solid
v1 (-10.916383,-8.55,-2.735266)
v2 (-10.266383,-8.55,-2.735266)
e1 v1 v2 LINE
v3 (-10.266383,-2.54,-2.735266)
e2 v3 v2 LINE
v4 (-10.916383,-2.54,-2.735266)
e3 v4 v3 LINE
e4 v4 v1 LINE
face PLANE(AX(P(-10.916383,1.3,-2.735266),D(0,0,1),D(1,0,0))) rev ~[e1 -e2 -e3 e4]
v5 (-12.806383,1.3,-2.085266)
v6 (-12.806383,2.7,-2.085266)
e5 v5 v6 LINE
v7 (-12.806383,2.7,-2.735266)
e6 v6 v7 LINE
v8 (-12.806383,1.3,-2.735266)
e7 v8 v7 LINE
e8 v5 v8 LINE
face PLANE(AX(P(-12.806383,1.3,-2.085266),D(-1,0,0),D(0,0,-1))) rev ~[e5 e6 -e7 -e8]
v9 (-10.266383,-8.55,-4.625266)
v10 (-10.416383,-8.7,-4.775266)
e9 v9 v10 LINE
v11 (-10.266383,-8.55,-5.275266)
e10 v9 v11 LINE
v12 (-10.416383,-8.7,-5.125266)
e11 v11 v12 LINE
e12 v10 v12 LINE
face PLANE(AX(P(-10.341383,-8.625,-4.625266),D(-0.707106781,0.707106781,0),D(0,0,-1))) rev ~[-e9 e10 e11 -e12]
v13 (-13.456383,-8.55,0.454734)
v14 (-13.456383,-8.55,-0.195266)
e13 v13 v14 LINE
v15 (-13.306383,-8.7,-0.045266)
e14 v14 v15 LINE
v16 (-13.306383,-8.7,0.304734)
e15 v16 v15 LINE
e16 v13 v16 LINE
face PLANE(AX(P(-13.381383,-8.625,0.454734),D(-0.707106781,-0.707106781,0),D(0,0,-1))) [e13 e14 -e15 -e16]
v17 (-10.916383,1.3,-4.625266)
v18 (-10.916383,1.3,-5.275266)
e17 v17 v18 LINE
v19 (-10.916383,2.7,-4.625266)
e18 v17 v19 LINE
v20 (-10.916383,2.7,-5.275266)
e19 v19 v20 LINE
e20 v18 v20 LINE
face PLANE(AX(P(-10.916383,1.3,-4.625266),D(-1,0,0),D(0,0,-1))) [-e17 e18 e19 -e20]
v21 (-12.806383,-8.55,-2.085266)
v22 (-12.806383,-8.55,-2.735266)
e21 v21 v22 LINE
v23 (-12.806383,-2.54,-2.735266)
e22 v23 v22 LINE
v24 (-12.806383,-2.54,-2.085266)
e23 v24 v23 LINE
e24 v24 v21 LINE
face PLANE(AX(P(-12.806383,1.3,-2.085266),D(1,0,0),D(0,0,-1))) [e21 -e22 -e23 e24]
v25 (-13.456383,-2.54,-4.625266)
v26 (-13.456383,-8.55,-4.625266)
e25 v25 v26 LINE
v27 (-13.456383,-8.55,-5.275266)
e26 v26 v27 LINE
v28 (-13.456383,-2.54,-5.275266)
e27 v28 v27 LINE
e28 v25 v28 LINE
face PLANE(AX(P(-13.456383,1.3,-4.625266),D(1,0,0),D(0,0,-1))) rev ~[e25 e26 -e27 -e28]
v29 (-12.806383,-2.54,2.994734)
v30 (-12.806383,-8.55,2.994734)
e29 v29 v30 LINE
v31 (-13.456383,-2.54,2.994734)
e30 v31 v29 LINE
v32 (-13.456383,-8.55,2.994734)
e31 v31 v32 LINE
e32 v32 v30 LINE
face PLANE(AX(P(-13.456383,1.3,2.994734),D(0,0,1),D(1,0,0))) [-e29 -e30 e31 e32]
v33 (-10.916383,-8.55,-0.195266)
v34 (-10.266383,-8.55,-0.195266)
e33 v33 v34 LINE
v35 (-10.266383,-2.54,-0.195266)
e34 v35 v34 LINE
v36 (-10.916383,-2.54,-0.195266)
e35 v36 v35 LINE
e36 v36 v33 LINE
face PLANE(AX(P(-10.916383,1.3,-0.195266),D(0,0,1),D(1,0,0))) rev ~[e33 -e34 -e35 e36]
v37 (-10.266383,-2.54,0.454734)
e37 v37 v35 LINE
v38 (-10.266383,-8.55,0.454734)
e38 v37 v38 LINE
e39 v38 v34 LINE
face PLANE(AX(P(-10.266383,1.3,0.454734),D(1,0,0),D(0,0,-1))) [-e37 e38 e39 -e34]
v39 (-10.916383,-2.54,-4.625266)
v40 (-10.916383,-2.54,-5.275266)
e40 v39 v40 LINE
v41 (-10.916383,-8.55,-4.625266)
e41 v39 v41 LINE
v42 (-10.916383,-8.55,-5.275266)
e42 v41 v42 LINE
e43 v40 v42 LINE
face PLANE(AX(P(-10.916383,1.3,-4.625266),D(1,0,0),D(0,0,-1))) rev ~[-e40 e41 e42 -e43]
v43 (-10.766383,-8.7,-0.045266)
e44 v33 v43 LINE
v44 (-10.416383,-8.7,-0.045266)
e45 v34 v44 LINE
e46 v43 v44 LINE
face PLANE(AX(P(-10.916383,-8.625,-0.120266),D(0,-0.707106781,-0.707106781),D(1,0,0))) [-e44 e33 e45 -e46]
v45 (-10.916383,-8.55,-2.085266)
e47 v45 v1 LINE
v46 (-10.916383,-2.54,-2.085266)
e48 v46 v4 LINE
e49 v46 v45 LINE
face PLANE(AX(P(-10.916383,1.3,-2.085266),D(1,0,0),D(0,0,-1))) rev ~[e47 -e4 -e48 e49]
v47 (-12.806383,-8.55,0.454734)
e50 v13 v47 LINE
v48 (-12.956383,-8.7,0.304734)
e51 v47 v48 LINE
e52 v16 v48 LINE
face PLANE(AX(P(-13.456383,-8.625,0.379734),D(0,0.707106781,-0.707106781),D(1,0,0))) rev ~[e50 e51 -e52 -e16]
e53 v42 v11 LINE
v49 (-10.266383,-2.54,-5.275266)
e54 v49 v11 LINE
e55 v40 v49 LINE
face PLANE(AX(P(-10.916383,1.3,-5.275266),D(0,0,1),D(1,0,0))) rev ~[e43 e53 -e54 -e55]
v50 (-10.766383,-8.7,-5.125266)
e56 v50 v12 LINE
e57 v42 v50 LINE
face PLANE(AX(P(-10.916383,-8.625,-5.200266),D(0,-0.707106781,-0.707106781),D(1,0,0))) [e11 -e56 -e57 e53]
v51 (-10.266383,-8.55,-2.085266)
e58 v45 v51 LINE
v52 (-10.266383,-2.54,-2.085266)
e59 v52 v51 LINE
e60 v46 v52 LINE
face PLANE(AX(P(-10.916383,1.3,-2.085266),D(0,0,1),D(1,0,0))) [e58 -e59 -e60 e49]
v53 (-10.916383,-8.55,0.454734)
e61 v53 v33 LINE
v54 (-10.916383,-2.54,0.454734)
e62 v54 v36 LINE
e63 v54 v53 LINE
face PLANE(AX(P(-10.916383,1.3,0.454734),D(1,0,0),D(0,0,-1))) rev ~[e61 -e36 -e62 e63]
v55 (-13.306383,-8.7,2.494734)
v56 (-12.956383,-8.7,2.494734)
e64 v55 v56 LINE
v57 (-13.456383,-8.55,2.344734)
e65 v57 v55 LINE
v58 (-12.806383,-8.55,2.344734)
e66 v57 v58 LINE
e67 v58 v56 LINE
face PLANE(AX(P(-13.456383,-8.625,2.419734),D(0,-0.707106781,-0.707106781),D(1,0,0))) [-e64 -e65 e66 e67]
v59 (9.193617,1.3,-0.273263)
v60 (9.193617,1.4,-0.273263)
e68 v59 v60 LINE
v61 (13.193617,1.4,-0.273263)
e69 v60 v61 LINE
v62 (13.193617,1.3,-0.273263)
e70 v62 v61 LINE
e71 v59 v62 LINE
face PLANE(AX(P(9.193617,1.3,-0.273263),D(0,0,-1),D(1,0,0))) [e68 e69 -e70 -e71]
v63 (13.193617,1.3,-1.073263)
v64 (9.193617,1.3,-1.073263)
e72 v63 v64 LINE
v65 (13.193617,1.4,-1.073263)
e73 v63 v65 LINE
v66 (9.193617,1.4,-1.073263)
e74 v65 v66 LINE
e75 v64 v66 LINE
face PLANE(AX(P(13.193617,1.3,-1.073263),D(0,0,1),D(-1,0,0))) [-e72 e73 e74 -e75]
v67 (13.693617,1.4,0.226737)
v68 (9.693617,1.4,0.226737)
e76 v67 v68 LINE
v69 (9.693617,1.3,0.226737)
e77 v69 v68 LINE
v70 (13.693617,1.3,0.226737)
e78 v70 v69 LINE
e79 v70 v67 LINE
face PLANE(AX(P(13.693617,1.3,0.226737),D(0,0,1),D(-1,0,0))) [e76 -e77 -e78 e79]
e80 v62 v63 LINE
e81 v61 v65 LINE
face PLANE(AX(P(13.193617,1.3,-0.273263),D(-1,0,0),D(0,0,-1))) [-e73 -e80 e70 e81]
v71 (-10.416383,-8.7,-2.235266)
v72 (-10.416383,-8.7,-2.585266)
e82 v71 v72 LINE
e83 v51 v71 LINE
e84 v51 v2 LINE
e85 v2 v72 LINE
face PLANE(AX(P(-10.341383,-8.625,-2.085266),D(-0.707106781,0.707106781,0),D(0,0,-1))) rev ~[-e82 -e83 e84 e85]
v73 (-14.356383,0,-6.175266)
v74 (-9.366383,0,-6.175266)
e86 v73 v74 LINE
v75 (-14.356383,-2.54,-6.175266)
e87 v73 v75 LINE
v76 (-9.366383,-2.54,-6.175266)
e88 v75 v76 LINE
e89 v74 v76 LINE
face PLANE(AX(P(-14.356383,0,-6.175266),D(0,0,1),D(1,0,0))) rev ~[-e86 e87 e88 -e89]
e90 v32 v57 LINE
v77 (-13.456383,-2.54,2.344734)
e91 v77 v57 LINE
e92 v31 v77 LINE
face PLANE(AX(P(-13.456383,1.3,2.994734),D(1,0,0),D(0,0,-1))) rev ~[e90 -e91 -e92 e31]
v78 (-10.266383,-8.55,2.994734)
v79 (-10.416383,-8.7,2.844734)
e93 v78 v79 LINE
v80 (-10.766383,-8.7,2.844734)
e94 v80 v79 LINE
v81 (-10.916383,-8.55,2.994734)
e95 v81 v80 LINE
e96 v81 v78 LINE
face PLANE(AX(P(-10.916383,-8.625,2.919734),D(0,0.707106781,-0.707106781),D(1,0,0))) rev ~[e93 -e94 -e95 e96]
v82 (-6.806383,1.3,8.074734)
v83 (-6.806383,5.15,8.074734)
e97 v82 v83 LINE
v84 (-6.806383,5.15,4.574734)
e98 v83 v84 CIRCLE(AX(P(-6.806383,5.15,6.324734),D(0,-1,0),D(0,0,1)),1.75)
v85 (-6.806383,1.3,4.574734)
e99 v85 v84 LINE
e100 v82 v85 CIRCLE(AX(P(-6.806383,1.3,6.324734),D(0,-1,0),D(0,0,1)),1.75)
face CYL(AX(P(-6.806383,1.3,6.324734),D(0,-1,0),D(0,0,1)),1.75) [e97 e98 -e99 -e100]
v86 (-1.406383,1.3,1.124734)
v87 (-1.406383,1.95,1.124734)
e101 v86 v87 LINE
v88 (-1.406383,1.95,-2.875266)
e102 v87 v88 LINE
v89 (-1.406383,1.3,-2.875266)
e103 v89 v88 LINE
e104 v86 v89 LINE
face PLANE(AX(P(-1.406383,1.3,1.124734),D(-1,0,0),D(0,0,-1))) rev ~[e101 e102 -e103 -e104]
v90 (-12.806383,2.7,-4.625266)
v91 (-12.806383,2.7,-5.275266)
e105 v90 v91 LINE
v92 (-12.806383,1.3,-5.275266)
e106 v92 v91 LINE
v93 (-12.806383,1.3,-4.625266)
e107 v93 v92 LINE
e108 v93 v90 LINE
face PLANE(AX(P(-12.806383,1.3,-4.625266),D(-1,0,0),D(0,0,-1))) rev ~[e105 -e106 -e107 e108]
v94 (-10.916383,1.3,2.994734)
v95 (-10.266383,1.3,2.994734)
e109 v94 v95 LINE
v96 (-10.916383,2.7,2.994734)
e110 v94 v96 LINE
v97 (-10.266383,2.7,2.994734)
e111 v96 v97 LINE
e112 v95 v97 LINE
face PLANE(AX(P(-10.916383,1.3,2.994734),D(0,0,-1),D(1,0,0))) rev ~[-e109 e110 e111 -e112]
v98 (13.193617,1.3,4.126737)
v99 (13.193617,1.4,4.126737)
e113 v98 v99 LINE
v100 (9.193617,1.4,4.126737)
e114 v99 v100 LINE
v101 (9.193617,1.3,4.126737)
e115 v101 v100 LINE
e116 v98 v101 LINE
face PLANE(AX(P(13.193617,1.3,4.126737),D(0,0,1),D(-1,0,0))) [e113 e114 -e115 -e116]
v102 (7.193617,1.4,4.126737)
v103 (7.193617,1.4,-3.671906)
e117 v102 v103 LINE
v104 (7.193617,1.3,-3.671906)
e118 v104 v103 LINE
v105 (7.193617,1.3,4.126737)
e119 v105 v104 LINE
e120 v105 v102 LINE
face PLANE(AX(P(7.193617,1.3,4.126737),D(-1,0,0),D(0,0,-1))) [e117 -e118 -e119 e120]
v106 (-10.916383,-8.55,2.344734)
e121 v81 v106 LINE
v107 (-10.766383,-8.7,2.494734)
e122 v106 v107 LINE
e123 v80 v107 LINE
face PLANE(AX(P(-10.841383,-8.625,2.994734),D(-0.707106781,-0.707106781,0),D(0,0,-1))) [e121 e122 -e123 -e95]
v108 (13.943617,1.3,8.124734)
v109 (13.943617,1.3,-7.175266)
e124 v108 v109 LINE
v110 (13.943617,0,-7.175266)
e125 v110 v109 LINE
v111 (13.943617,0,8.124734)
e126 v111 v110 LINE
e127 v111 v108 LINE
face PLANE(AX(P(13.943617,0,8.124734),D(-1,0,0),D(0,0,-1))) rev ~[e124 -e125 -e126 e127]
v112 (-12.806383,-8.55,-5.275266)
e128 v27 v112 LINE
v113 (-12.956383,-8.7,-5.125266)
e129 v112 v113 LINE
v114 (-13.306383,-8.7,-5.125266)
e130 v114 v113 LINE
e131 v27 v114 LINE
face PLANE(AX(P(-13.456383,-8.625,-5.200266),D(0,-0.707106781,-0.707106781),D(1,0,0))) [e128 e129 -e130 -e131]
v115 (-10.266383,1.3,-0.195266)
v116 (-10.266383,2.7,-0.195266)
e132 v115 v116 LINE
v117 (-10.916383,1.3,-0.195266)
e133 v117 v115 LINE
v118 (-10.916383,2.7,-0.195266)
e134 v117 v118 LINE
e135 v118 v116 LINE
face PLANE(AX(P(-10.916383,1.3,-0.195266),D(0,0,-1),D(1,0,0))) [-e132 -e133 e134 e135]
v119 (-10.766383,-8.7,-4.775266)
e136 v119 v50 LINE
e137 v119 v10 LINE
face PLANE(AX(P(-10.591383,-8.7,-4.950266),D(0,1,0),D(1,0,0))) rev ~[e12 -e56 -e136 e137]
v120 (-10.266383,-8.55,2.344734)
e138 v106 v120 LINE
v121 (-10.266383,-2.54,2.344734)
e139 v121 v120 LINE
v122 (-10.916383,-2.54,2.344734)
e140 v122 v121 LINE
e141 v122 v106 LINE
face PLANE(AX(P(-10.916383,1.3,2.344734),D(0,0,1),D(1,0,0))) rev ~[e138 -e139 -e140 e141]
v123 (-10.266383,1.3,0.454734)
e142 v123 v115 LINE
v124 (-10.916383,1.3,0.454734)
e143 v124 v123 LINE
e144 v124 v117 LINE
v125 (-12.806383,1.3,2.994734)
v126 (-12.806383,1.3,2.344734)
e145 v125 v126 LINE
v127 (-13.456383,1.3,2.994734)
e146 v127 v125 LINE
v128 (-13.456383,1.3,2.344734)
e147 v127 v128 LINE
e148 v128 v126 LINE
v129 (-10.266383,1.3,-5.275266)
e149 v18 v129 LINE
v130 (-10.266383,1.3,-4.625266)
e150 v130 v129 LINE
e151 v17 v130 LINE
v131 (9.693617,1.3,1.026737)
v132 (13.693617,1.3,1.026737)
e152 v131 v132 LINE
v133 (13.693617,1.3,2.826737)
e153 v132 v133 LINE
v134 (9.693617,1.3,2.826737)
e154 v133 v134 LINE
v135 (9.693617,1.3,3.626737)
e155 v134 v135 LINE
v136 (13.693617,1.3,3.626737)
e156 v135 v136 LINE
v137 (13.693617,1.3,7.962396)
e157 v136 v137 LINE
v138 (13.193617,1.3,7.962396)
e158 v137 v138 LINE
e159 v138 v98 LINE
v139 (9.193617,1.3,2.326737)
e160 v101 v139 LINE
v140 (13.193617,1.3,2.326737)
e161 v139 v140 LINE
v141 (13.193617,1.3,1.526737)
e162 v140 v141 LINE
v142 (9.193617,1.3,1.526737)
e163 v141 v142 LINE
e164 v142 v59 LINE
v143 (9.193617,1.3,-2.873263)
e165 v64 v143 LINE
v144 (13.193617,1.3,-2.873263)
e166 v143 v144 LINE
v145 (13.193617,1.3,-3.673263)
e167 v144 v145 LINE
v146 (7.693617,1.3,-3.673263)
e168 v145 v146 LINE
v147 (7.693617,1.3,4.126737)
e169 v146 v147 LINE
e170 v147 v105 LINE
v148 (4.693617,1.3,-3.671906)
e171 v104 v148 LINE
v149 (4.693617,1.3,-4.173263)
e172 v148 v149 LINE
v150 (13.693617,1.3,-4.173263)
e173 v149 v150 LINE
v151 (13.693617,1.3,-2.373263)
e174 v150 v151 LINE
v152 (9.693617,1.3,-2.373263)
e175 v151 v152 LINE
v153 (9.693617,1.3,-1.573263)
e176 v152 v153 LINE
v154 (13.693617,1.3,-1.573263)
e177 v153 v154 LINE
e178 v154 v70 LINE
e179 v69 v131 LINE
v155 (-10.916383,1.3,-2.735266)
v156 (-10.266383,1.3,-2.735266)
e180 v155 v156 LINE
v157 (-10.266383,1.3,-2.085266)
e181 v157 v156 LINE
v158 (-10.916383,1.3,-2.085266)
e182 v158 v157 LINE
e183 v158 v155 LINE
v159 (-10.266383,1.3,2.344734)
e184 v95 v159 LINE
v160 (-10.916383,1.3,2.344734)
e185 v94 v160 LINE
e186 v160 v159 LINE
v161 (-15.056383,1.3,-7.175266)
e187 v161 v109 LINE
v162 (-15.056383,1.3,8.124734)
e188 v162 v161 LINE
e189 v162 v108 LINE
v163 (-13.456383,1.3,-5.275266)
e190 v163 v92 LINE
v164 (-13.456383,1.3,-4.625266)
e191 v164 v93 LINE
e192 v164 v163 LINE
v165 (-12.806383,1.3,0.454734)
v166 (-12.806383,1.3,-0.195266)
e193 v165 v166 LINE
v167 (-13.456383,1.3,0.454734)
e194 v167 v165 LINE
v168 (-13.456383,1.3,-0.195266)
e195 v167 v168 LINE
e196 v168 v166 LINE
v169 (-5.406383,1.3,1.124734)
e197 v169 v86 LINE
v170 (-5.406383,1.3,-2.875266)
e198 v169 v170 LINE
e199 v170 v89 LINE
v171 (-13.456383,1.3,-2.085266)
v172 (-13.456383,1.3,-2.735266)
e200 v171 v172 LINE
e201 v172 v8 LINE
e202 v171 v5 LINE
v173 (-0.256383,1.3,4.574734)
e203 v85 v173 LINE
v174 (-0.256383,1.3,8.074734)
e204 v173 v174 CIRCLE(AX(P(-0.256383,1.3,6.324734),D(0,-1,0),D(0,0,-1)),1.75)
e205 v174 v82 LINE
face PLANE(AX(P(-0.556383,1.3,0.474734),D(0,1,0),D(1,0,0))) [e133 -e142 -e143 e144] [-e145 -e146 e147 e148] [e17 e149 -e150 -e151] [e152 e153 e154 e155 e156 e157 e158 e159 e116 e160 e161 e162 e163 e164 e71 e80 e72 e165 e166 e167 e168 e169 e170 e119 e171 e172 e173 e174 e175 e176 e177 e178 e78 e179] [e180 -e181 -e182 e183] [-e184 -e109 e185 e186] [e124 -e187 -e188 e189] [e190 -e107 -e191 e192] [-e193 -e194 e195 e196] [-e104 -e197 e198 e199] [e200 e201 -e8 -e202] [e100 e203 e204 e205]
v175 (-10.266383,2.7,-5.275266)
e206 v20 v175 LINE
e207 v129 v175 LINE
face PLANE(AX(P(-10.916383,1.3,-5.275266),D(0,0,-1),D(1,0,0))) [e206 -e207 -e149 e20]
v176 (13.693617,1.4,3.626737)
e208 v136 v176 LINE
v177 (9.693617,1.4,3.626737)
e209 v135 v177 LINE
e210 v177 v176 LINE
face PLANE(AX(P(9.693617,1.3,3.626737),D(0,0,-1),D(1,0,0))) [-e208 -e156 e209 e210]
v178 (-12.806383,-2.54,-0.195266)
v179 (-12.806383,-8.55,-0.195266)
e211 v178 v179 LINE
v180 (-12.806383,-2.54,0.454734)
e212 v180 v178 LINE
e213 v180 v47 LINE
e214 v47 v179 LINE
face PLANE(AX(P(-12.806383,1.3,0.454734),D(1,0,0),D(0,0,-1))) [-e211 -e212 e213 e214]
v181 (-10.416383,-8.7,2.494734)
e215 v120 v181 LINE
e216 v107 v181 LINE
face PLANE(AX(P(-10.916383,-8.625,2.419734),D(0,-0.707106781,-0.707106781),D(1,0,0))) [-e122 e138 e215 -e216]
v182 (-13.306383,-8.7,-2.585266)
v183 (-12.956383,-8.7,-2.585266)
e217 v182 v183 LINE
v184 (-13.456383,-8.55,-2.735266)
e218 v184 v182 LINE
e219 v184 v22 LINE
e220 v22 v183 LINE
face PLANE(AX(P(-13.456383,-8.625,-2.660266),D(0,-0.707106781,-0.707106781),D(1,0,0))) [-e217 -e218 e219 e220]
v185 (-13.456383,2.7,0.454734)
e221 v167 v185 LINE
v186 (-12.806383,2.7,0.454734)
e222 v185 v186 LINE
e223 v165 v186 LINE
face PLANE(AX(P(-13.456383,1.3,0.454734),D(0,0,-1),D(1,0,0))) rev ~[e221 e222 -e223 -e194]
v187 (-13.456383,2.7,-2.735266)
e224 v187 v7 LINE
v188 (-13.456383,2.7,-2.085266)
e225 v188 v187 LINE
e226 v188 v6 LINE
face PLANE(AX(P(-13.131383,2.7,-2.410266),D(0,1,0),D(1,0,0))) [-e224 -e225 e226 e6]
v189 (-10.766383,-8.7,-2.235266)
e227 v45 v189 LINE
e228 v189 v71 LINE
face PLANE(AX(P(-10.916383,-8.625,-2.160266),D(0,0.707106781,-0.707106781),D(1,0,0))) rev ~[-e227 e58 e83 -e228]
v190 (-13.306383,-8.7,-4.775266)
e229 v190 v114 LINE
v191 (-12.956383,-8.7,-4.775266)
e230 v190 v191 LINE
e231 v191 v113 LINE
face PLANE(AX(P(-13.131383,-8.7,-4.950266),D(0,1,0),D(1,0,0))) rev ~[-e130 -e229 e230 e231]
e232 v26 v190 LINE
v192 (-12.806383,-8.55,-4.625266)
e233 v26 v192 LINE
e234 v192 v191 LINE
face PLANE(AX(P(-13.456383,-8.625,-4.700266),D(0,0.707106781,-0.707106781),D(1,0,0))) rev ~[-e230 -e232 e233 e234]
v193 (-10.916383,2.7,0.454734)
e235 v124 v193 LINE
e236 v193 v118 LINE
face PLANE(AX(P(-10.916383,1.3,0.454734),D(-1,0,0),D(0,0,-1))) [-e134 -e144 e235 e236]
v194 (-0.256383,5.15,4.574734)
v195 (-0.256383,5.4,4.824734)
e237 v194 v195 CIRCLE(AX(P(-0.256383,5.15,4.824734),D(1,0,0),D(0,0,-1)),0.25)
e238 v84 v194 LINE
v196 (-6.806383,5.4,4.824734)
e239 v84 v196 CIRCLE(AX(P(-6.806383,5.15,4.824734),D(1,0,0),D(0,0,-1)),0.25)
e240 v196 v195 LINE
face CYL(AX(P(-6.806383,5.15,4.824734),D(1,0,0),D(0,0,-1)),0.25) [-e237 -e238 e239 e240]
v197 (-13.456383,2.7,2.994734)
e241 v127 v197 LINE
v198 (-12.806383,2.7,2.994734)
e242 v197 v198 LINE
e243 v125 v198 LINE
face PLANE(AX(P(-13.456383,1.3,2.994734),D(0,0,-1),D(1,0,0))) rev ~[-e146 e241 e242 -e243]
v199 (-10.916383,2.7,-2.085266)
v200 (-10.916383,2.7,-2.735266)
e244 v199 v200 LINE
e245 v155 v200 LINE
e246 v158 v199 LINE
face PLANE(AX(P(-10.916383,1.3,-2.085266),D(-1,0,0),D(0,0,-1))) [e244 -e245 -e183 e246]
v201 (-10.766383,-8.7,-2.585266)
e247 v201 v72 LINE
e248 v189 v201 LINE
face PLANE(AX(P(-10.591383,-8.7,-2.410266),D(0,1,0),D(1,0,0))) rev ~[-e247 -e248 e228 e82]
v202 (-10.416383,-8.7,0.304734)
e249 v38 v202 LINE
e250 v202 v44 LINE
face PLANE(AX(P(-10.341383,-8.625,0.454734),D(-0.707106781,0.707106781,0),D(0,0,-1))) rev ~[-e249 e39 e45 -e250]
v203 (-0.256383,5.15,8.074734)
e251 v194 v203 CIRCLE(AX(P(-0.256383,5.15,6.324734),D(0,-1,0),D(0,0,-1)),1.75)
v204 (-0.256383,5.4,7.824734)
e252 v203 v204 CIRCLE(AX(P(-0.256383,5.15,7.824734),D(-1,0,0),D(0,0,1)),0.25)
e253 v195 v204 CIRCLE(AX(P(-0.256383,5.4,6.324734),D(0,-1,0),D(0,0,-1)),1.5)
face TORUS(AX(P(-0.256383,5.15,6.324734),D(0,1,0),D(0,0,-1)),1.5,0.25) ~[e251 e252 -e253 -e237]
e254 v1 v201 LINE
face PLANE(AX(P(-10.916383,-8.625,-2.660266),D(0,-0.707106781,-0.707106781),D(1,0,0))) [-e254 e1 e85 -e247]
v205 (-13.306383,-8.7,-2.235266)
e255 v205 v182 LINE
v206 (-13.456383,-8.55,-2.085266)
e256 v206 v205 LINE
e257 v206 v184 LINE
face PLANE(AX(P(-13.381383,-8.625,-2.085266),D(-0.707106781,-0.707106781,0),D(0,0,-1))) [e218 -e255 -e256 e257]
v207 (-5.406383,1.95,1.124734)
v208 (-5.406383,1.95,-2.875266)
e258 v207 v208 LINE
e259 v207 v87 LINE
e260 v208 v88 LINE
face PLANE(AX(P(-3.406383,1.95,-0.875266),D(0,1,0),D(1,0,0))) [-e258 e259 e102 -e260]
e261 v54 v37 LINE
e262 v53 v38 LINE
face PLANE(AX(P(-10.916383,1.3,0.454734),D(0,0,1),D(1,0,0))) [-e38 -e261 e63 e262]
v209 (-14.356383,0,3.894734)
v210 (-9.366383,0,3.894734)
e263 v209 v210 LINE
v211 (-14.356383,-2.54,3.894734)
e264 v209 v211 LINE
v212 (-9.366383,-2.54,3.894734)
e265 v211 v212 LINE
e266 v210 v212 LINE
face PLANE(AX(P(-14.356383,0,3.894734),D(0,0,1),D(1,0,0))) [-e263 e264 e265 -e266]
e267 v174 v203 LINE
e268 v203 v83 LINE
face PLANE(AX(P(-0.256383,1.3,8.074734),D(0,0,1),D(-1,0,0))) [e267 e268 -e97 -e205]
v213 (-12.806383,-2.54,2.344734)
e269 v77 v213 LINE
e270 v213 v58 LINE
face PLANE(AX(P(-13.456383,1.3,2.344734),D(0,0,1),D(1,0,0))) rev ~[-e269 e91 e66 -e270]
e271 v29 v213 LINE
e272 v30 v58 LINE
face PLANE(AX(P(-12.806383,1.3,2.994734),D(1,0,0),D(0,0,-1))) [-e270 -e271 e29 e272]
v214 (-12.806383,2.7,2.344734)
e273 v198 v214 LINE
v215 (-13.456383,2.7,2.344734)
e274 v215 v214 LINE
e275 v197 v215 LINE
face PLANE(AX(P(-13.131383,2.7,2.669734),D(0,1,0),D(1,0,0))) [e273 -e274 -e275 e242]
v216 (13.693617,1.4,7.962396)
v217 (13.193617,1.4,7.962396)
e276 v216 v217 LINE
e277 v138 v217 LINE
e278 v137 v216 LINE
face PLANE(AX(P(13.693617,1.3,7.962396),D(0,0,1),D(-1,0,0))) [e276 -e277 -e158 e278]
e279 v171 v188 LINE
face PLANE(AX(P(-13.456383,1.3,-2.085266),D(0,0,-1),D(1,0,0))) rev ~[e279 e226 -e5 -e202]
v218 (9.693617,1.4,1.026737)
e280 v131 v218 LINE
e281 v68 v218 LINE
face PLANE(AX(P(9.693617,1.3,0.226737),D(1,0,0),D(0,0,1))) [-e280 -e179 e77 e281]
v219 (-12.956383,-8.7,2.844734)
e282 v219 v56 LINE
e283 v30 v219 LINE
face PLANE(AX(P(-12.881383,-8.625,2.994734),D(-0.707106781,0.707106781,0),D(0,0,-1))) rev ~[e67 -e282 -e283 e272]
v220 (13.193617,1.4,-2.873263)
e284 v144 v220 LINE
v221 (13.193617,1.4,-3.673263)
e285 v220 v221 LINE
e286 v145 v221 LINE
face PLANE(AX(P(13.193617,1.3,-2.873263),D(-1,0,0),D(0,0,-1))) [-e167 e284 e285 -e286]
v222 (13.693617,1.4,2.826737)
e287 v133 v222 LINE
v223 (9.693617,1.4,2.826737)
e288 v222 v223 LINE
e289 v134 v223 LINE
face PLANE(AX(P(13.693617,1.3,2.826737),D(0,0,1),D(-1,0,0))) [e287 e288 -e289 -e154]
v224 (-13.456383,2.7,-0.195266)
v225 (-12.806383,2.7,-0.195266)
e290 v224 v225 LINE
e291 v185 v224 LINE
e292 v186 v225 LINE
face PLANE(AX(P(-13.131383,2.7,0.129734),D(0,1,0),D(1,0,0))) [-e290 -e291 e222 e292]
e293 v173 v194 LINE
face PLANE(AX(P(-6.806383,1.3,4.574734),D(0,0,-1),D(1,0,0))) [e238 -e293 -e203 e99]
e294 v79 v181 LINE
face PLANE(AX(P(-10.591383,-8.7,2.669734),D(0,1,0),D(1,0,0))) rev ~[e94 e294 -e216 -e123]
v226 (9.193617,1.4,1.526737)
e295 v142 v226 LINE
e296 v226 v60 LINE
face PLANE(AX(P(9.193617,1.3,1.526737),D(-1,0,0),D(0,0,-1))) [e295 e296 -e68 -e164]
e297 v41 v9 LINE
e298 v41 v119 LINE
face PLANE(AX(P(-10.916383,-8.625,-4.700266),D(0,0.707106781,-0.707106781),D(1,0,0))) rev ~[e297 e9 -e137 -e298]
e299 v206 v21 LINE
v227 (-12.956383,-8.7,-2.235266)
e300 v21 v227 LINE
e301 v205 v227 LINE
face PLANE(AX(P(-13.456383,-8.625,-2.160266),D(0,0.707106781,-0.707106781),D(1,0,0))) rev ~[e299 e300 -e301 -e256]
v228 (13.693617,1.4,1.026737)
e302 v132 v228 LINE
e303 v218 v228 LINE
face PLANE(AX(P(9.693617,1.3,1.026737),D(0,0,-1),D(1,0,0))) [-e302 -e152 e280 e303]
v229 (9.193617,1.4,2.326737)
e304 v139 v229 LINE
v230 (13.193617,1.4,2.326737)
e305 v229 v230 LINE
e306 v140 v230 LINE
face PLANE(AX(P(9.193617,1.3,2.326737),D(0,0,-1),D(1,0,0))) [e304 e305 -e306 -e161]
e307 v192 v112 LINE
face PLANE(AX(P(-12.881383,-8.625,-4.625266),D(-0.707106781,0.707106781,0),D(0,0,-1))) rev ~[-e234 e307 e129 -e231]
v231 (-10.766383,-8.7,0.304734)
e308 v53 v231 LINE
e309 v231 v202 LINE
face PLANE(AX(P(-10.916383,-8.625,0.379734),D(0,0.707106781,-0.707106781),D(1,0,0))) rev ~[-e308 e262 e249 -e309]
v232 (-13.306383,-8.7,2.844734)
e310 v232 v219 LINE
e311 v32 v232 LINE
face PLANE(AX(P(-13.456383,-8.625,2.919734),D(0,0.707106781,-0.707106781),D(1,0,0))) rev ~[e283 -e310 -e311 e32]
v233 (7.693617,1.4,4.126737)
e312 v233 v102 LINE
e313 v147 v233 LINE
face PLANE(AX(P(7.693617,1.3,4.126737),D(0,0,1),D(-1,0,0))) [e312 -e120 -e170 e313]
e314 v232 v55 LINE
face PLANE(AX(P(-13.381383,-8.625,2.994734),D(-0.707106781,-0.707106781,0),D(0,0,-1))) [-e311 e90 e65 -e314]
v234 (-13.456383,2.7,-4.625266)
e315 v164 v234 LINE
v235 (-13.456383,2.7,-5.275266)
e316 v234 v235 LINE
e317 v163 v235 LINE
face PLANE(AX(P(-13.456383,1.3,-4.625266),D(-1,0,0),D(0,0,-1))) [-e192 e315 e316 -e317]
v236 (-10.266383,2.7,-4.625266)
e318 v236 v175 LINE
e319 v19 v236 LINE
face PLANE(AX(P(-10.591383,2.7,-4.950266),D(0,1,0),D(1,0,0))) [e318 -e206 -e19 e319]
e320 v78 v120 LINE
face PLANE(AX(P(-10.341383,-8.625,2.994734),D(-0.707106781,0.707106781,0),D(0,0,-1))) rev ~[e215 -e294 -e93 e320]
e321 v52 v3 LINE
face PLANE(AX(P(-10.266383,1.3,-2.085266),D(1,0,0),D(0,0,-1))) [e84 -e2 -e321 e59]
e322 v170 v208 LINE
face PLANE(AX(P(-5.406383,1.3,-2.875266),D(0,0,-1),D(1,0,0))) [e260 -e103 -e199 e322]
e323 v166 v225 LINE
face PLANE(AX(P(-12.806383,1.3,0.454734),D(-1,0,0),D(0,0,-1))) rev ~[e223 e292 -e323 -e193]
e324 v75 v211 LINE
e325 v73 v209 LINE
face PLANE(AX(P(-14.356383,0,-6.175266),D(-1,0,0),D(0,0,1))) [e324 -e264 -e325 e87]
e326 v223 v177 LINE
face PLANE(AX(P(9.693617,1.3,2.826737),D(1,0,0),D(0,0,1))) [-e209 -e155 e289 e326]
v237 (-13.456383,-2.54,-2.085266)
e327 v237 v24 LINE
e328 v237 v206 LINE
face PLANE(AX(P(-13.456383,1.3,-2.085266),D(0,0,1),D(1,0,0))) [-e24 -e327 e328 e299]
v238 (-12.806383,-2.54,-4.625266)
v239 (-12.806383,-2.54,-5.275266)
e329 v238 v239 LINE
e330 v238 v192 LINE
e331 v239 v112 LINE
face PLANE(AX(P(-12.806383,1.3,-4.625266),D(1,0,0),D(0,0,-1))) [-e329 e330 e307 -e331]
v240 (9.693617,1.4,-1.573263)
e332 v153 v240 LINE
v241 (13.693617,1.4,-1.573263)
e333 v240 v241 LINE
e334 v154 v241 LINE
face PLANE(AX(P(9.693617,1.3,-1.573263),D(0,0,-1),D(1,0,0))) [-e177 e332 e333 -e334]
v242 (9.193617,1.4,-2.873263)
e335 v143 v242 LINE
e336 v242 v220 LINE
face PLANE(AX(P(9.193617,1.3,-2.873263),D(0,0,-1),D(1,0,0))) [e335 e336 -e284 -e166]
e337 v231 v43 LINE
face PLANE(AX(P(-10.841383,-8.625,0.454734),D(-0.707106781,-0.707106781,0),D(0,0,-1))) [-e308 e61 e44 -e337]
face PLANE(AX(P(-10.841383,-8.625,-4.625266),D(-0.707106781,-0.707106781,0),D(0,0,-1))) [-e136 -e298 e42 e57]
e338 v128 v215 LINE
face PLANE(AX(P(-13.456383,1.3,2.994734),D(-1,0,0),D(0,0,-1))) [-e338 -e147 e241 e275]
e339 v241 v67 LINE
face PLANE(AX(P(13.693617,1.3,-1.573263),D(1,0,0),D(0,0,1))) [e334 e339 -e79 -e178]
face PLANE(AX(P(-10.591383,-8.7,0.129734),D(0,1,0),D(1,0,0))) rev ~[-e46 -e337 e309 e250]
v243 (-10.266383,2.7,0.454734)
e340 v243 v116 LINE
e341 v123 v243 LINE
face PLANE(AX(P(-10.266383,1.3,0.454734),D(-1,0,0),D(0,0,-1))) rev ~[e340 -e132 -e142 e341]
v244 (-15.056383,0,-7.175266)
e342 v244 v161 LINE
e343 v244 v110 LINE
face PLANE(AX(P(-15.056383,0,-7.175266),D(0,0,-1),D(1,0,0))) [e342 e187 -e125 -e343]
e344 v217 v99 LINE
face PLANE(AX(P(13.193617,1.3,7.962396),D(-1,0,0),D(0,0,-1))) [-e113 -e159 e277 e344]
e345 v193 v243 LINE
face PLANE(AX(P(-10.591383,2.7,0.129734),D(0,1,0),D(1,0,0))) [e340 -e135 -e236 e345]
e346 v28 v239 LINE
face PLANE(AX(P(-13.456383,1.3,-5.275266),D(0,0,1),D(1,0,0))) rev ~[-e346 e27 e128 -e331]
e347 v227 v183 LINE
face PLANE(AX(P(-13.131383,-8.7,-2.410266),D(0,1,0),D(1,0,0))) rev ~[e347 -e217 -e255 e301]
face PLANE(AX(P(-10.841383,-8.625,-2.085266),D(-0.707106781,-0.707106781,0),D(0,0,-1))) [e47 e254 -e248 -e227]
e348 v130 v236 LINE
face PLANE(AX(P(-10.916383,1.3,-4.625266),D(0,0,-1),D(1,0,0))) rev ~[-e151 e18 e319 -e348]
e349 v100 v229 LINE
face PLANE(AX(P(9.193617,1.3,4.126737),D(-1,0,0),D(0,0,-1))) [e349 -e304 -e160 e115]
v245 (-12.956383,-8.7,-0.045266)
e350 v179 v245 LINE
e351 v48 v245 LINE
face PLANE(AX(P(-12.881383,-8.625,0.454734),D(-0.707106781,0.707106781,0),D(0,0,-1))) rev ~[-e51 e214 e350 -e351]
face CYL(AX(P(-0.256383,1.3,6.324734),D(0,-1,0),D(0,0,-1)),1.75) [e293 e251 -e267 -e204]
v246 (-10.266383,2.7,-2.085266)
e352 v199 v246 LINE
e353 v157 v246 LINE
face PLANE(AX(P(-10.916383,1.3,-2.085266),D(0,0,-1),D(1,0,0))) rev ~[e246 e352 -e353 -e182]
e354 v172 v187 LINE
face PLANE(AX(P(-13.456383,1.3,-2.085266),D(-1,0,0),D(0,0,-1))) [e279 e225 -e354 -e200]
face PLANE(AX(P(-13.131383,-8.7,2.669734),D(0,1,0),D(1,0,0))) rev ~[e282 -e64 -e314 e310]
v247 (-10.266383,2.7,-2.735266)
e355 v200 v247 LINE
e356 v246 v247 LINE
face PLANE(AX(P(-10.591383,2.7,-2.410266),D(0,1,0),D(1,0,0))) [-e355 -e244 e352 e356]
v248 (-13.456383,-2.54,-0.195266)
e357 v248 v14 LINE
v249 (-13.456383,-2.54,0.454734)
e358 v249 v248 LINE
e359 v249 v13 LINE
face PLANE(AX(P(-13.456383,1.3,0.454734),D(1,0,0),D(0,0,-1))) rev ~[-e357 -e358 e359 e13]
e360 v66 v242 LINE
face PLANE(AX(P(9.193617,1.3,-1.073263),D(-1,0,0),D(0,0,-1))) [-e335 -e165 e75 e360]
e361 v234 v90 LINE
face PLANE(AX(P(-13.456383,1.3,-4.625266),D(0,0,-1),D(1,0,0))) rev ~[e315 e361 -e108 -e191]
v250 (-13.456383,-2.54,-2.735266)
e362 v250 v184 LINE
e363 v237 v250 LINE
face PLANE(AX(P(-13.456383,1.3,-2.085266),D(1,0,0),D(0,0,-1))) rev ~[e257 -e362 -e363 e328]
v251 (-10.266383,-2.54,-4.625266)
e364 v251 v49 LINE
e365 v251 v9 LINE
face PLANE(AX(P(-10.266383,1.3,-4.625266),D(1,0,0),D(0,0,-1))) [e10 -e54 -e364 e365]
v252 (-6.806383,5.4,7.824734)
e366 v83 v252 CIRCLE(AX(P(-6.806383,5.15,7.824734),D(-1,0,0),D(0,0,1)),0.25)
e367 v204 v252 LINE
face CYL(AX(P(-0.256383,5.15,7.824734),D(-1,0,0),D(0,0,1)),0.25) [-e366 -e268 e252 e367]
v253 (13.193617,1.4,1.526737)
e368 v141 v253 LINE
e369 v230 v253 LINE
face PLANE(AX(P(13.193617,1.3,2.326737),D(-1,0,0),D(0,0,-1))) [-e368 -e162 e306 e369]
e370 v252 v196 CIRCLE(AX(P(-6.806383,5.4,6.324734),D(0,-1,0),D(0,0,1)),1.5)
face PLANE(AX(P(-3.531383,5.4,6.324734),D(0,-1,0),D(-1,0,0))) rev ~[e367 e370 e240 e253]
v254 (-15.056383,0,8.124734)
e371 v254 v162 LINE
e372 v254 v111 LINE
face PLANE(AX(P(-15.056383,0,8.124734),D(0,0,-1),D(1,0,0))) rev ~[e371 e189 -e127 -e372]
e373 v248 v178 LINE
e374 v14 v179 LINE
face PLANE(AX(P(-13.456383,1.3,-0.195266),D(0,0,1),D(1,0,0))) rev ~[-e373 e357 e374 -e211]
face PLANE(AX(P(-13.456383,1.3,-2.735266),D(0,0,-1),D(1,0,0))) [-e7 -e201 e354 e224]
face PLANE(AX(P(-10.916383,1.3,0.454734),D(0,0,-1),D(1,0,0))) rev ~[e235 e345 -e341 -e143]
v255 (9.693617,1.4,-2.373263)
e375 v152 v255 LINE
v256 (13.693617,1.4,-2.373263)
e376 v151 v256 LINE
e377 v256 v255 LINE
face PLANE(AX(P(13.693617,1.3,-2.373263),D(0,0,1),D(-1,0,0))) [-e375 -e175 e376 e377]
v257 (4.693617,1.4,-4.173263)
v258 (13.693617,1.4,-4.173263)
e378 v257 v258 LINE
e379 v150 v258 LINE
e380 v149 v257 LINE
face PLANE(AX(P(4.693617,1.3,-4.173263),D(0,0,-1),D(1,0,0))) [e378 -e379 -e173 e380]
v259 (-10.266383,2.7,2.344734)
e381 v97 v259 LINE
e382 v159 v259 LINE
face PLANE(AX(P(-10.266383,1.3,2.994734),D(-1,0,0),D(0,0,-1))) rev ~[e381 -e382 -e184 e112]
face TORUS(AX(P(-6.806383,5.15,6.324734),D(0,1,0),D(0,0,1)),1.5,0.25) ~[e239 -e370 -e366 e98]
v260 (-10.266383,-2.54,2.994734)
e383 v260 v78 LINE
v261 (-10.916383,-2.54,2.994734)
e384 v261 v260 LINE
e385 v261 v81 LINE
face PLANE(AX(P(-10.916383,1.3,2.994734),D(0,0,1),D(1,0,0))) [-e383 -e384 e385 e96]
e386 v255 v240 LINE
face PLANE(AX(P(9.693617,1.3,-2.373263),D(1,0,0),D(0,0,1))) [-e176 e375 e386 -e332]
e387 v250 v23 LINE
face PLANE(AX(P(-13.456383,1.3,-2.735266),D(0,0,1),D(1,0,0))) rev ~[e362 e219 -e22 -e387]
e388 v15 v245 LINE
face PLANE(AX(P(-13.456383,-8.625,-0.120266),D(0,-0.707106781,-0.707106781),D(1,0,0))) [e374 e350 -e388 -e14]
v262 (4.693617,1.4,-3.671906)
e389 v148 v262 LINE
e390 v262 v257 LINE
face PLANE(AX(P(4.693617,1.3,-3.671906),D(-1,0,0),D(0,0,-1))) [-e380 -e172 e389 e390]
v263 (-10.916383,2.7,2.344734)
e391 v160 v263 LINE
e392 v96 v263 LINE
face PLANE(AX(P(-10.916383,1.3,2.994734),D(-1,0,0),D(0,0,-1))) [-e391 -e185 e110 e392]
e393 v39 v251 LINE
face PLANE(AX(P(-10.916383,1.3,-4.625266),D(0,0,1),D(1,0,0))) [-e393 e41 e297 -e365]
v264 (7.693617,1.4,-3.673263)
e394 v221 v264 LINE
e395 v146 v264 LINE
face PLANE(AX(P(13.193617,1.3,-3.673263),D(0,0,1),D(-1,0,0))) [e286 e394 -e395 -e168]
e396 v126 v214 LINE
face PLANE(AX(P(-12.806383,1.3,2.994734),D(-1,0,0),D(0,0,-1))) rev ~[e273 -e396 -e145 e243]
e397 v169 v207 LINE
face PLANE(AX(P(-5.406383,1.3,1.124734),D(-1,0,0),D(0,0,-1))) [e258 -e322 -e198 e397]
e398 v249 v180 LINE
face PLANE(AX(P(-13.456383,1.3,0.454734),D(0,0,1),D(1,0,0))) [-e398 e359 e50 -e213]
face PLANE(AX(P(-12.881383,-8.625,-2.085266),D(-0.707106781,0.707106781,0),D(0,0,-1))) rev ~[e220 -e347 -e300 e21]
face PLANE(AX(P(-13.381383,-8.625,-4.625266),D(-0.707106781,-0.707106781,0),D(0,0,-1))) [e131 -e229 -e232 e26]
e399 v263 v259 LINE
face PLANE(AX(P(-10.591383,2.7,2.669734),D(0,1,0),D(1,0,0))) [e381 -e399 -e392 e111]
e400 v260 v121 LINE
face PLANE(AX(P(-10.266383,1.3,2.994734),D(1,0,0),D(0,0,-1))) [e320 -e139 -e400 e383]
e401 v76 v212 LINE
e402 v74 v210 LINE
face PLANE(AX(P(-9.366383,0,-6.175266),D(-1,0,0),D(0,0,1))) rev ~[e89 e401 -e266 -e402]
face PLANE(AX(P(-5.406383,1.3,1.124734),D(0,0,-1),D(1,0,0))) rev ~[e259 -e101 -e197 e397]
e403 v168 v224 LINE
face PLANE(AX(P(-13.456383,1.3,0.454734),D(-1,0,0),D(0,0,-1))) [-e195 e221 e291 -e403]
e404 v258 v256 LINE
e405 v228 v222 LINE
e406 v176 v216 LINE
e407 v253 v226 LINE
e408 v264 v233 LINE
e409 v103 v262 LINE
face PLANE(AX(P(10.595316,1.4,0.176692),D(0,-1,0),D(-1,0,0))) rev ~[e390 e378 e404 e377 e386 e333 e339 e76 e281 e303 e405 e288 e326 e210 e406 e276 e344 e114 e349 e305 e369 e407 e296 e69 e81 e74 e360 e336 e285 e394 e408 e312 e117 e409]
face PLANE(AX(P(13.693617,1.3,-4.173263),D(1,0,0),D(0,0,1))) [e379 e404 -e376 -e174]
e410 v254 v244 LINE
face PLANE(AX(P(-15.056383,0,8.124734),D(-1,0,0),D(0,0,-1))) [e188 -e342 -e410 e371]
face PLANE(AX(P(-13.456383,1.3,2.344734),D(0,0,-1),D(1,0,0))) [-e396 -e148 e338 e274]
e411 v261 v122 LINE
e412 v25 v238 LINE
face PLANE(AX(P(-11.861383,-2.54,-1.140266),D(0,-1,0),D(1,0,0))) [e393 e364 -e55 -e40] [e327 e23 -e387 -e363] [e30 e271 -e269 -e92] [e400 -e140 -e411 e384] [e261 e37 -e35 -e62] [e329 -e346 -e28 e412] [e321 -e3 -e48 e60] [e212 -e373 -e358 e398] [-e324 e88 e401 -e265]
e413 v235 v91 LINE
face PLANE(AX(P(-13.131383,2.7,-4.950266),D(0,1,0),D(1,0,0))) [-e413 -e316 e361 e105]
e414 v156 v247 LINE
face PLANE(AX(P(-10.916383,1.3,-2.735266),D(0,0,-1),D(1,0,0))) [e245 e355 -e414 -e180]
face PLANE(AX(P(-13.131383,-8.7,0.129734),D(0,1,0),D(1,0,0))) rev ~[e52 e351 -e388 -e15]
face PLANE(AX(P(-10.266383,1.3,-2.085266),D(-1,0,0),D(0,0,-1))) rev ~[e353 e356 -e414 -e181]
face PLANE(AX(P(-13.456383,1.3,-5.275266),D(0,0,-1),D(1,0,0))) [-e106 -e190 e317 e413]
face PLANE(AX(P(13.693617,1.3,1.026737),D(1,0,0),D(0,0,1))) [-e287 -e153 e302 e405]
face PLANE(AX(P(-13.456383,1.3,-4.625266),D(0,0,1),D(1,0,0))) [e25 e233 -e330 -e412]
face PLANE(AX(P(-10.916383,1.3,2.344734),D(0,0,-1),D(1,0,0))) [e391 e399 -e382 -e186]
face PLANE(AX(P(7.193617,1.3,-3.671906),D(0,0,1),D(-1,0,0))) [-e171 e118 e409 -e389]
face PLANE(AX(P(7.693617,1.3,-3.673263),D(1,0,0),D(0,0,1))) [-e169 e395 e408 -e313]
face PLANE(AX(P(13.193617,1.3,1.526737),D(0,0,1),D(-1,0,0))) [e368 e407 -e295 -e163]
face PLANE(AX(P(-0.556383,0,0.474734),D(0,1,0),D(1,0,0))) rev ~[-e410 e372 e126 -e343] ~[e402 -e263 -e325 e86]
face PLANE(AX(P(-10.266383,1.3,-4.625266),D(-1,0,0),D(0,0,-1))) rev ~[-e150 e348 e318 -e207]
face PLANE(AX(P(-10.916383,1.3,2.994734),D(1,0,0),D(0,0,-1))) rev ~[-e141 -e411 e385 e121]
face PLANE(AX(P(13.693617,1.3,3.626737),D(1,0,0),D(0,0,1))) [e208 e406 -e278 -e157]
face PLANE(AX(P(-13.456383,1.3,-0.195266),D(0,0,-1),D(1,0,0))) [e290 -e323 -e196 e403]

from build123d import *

# Parameters (mm, degrees)
SKETCH1_W                = 29
SKETCH1_H                = 15.3
BOSS_EXTRUDE1_DEPTH      = 1.3
BOSS_EXTRUDE2_DEPTH      = 4.1
SKETCH3_W                = 0.65
SKETCH3_H                = 0.65
BOSS_EXTRUDE3_DEPTH      = 1.4
BOSS_EXTRUDE3_DEPTH_BACK = 10
SKETCH4_W                = 4.99
SKETCH4_H                = 10.07
BOSS_EXTRUDE4_DEPTH      = 2.54
SKETCH5_W                = 4
SKETCH5_H                = 4
BOSS_EXTRUDE5_DEPTH      = 0.65
FILLET1_R                = 0.25
CHAMFER1_SIZE            = 0.15
BOSS_EXTRUDE6_DEPTH      = 0.1


with BuildPart() as part:
    # Sketch1 → Boss-Extrude1 (new body)
    with BuildSketch(Plane(origin=(0, 0, 0), x_dir=(1, 0, 0), z_dir=(0, 1, 0))):
        with Locations((-0.556382979, -0.474734043)):
            Rectangle(SKETCH1_W, SKETCH1_H)
    extrude(amount=BOSS_EXTRUDE1_DEPTH)

    # Sketch2 → Boss-Extrude2 (add)
    with BuildSketch(Plane(origin=(0, 1.3, 0), x_dir=(1, 0, 0), z_dir=(0, 1, 0))):
        with BuildLine():
            Line((-6.806382979, -4.574734043), (-0.256382979, -4.574734043))
            ThreePointArc((-0.256382979, -4.574734043), (1.493617021, -6.324734043), (-0.256382979, -8.074734043))
            Line((-0.256382979, -8.074734043), (-6.806382979, -8.074734043))
            ThreePointArc((-6.806382979, -8.074734043), (-8.556382979, -6.324734043), (-6.806382979, -4.574734043))
        make_face()
    extrude(amount=BOSS_EXTRUDE2_DEPTH)

    # Sketch3 → Boss-Extrude3 (add, two sides)
    with BuildSketch(Plane(origin=(0, 1.3, 0), x_dir=(1, 0, 0), z_dir=(0, 1, 0))) as boss_extrude3_sk:
        with Locations((-13.131382979, 4.950265957)):
            Rectangle(SKETCH3_W, SKETCH3_H)
        with Locations((-10.591382979, 4.950265957)):
            Rectangle(SKETCH3_W, SKETCH3_H)
        with Locations((-10.591382979, 2.410265957)):
            Rectangle(SKETCH3_W, SKETCH3_H)
        with Locations((-10.591382979, -0.129734043)):
            Rectangle(SKETCH3_W, SKETCH3_H)
        with Locations((-10.591382979, -2.669734043)):
            Rectangle(SKETCH3_W, SKETCH3_H)
        with Locations((-13.131382979, 2.410265957)):
            Rectangle(SKETCH3_W, SKETCH3_H)
        with Locations((-13.131382979, -0.129734043)):
            Rectangle(SKETCH3_W, SKETCH3_H)
        with Locations((-13.131382979, -2.669734043)):
            Rectangle(SKETCH3_W, SKETCH3_H)
    extrude(amount=BOSS_EXTRUDE3_DEPTH)
    extrude(boss_extrude3_sk.sketch, amount=-BOSS_EXTRUDE3_DEPTH_BACK)

    # Sketch4 → Boss-Extrude4 (add)
    with BuildSketch(Plane.XZ):
        with Locations((-11.861382979, -1.140265957)):
            Rectangle(SKETCH4_W, SKETCH4_H)
    extrude(amount=BOSS_EXTRUDE4_DEPTH)

    # Sketch5 → Boss-Extrude5 (add)
    with BuildSketch(Plane(origin=(0, 1.3, 0), x_dir=(1, 0, 0), z_dir=(0, 1, 0))):
        with Locations((-3.406382979, 0.875265957)):
            Rectangle(SKETCH5_W, SKETCH5_H)
    extrude(amount=BOSS_EXTRUDE5_DEPTH)

    # Fillet1
    fillet1_edges = [part.edges().sort_by_distance(p)[0] for p in [
        (-8.556382979, 5.4, 6.324734043),
        (-3.531382979, 5.4, 8.074734043),
        (1.493617021, 5.4, 6.324734043),
        (-3.531382979, 5.4, 4.574734043),
    ]]
    fillet(fillet1_edges, radius=FILLET1_R)

    # Chamfer1
    chamfer1_edges = [part.edges().sort_by_distance(p)[0] for p in [
        (-10.591382979, -8.7, 2.344734043),
        (-10.266382979, -8.7, 2.669734043),
        (-10.591382979, -8.7, 2.994734043),
        (-10.916382979, -8.7, 2.669734043),
        (-13.131382979, -8.7, -2.735265957),
        (-12.806382979, -8.7, -2.410265957),
        (-13.131382979, -8.7, -2.085265957),
        (-13.456382979, -8.7, -2.410265957),
        (-13.131382979, -8.7, -0.195265957),
        (-12.806382979, -8.7, 0.129734043),
        (-13.131382979, -8.7, 0.454734043),
        (-13.456382979, -8.7, 0.129734043),
        (-13.131382979, -8.7, 2.344734043),
        (-12.806382979, -8.7, 2.669734043),
        (-13.131382979, -8.7, 2.994734043),
        (-13.456382979, -8.7, 2.669734043),
        (-13.456382979, -8.7, -4.950265957),
        (-13.131382979, -8.7, -5.275265957),
        (-12.806382979, -8.7, -4.950265957),
        (-13.131382979, -8.7, -4.625265957),
        (-10.591382979, -8.7, -5.275265957),
        (-10.266382979, -8.7, -4.950265957),
        (-10.591382979, -8.7, -4.625265957),
        (-10.916382979, -8.7, -4.950265957),
        (-10.591382979, -8.7, -2.735265957),
        (-10.266382979, -8.7, -2.410265957),
        (-10.591382979, -8.7, -2.085265957),
        (-10.916382979, -8.7, -2.410265957),
        (-10.591382979, -8.7, -0.195265957),
        (-10.266382979, -8.7, 0.129734043),
        (-10.591382979, -8.7, 0.454734043),
        (-10.916382979, -8.7, 0.129734043),
    ]]
    chamfer(chamfer1_edges, length=CHAMFER1_SIZE)

    # Sketch6 → Boss-Extrude6 (add)
    with BuildSketch(Plane(origin=(0, 1.3, 0), x_dir=(1, 0, 0), z_dir=(0, 1, 0))):
        Polygon((4.693617021, 4.173262585), (13.693617021, 4.173262585), (13.693617021, 2.373262585), (9.693617021, 2.373262585), (9.693617021, 1.573262585), (13.693617021, 1.573262585), (13.693617021, -0.226737415), (9.693617021, -0.226737415), (9.693617021, -1.026737415), (13.693617021, -1.026737415), (13.693617021, -2.826737415), (9.693617021, -2.826737415), (9.693617021, -3.626737415), (13.693617021, -3.626737415), (13.693617021, -7.962396389), (13.193617021, -7.962396389), (13.193617021, -4.126737415), (9.193617021, -4.126737415), (9.193617021, -2.326737415), (13.193617021, -2.326737415), (13.193617021, -1.526737415), (9.193617021, -1.526737415), (9.193617021, 0.273262585), (13.193617021, 0.273262585), (13.193617021, 1.073262585), (9.193617021, 1.073262585), (9.193617021, 2.873262585), (13.193617021, 2.873262585), (13.193617021, 3.673262585), (7.693617021, 3.673262585), (7.693617021, -4.126737415), (7.193617021, -4.126737415), (7.193617021, 3.671905646), (4.693617021, 3.671905646), align=None)
    extrude(amount=BOSS_EXTRUDE6_DEPTH)


solid = part.part
